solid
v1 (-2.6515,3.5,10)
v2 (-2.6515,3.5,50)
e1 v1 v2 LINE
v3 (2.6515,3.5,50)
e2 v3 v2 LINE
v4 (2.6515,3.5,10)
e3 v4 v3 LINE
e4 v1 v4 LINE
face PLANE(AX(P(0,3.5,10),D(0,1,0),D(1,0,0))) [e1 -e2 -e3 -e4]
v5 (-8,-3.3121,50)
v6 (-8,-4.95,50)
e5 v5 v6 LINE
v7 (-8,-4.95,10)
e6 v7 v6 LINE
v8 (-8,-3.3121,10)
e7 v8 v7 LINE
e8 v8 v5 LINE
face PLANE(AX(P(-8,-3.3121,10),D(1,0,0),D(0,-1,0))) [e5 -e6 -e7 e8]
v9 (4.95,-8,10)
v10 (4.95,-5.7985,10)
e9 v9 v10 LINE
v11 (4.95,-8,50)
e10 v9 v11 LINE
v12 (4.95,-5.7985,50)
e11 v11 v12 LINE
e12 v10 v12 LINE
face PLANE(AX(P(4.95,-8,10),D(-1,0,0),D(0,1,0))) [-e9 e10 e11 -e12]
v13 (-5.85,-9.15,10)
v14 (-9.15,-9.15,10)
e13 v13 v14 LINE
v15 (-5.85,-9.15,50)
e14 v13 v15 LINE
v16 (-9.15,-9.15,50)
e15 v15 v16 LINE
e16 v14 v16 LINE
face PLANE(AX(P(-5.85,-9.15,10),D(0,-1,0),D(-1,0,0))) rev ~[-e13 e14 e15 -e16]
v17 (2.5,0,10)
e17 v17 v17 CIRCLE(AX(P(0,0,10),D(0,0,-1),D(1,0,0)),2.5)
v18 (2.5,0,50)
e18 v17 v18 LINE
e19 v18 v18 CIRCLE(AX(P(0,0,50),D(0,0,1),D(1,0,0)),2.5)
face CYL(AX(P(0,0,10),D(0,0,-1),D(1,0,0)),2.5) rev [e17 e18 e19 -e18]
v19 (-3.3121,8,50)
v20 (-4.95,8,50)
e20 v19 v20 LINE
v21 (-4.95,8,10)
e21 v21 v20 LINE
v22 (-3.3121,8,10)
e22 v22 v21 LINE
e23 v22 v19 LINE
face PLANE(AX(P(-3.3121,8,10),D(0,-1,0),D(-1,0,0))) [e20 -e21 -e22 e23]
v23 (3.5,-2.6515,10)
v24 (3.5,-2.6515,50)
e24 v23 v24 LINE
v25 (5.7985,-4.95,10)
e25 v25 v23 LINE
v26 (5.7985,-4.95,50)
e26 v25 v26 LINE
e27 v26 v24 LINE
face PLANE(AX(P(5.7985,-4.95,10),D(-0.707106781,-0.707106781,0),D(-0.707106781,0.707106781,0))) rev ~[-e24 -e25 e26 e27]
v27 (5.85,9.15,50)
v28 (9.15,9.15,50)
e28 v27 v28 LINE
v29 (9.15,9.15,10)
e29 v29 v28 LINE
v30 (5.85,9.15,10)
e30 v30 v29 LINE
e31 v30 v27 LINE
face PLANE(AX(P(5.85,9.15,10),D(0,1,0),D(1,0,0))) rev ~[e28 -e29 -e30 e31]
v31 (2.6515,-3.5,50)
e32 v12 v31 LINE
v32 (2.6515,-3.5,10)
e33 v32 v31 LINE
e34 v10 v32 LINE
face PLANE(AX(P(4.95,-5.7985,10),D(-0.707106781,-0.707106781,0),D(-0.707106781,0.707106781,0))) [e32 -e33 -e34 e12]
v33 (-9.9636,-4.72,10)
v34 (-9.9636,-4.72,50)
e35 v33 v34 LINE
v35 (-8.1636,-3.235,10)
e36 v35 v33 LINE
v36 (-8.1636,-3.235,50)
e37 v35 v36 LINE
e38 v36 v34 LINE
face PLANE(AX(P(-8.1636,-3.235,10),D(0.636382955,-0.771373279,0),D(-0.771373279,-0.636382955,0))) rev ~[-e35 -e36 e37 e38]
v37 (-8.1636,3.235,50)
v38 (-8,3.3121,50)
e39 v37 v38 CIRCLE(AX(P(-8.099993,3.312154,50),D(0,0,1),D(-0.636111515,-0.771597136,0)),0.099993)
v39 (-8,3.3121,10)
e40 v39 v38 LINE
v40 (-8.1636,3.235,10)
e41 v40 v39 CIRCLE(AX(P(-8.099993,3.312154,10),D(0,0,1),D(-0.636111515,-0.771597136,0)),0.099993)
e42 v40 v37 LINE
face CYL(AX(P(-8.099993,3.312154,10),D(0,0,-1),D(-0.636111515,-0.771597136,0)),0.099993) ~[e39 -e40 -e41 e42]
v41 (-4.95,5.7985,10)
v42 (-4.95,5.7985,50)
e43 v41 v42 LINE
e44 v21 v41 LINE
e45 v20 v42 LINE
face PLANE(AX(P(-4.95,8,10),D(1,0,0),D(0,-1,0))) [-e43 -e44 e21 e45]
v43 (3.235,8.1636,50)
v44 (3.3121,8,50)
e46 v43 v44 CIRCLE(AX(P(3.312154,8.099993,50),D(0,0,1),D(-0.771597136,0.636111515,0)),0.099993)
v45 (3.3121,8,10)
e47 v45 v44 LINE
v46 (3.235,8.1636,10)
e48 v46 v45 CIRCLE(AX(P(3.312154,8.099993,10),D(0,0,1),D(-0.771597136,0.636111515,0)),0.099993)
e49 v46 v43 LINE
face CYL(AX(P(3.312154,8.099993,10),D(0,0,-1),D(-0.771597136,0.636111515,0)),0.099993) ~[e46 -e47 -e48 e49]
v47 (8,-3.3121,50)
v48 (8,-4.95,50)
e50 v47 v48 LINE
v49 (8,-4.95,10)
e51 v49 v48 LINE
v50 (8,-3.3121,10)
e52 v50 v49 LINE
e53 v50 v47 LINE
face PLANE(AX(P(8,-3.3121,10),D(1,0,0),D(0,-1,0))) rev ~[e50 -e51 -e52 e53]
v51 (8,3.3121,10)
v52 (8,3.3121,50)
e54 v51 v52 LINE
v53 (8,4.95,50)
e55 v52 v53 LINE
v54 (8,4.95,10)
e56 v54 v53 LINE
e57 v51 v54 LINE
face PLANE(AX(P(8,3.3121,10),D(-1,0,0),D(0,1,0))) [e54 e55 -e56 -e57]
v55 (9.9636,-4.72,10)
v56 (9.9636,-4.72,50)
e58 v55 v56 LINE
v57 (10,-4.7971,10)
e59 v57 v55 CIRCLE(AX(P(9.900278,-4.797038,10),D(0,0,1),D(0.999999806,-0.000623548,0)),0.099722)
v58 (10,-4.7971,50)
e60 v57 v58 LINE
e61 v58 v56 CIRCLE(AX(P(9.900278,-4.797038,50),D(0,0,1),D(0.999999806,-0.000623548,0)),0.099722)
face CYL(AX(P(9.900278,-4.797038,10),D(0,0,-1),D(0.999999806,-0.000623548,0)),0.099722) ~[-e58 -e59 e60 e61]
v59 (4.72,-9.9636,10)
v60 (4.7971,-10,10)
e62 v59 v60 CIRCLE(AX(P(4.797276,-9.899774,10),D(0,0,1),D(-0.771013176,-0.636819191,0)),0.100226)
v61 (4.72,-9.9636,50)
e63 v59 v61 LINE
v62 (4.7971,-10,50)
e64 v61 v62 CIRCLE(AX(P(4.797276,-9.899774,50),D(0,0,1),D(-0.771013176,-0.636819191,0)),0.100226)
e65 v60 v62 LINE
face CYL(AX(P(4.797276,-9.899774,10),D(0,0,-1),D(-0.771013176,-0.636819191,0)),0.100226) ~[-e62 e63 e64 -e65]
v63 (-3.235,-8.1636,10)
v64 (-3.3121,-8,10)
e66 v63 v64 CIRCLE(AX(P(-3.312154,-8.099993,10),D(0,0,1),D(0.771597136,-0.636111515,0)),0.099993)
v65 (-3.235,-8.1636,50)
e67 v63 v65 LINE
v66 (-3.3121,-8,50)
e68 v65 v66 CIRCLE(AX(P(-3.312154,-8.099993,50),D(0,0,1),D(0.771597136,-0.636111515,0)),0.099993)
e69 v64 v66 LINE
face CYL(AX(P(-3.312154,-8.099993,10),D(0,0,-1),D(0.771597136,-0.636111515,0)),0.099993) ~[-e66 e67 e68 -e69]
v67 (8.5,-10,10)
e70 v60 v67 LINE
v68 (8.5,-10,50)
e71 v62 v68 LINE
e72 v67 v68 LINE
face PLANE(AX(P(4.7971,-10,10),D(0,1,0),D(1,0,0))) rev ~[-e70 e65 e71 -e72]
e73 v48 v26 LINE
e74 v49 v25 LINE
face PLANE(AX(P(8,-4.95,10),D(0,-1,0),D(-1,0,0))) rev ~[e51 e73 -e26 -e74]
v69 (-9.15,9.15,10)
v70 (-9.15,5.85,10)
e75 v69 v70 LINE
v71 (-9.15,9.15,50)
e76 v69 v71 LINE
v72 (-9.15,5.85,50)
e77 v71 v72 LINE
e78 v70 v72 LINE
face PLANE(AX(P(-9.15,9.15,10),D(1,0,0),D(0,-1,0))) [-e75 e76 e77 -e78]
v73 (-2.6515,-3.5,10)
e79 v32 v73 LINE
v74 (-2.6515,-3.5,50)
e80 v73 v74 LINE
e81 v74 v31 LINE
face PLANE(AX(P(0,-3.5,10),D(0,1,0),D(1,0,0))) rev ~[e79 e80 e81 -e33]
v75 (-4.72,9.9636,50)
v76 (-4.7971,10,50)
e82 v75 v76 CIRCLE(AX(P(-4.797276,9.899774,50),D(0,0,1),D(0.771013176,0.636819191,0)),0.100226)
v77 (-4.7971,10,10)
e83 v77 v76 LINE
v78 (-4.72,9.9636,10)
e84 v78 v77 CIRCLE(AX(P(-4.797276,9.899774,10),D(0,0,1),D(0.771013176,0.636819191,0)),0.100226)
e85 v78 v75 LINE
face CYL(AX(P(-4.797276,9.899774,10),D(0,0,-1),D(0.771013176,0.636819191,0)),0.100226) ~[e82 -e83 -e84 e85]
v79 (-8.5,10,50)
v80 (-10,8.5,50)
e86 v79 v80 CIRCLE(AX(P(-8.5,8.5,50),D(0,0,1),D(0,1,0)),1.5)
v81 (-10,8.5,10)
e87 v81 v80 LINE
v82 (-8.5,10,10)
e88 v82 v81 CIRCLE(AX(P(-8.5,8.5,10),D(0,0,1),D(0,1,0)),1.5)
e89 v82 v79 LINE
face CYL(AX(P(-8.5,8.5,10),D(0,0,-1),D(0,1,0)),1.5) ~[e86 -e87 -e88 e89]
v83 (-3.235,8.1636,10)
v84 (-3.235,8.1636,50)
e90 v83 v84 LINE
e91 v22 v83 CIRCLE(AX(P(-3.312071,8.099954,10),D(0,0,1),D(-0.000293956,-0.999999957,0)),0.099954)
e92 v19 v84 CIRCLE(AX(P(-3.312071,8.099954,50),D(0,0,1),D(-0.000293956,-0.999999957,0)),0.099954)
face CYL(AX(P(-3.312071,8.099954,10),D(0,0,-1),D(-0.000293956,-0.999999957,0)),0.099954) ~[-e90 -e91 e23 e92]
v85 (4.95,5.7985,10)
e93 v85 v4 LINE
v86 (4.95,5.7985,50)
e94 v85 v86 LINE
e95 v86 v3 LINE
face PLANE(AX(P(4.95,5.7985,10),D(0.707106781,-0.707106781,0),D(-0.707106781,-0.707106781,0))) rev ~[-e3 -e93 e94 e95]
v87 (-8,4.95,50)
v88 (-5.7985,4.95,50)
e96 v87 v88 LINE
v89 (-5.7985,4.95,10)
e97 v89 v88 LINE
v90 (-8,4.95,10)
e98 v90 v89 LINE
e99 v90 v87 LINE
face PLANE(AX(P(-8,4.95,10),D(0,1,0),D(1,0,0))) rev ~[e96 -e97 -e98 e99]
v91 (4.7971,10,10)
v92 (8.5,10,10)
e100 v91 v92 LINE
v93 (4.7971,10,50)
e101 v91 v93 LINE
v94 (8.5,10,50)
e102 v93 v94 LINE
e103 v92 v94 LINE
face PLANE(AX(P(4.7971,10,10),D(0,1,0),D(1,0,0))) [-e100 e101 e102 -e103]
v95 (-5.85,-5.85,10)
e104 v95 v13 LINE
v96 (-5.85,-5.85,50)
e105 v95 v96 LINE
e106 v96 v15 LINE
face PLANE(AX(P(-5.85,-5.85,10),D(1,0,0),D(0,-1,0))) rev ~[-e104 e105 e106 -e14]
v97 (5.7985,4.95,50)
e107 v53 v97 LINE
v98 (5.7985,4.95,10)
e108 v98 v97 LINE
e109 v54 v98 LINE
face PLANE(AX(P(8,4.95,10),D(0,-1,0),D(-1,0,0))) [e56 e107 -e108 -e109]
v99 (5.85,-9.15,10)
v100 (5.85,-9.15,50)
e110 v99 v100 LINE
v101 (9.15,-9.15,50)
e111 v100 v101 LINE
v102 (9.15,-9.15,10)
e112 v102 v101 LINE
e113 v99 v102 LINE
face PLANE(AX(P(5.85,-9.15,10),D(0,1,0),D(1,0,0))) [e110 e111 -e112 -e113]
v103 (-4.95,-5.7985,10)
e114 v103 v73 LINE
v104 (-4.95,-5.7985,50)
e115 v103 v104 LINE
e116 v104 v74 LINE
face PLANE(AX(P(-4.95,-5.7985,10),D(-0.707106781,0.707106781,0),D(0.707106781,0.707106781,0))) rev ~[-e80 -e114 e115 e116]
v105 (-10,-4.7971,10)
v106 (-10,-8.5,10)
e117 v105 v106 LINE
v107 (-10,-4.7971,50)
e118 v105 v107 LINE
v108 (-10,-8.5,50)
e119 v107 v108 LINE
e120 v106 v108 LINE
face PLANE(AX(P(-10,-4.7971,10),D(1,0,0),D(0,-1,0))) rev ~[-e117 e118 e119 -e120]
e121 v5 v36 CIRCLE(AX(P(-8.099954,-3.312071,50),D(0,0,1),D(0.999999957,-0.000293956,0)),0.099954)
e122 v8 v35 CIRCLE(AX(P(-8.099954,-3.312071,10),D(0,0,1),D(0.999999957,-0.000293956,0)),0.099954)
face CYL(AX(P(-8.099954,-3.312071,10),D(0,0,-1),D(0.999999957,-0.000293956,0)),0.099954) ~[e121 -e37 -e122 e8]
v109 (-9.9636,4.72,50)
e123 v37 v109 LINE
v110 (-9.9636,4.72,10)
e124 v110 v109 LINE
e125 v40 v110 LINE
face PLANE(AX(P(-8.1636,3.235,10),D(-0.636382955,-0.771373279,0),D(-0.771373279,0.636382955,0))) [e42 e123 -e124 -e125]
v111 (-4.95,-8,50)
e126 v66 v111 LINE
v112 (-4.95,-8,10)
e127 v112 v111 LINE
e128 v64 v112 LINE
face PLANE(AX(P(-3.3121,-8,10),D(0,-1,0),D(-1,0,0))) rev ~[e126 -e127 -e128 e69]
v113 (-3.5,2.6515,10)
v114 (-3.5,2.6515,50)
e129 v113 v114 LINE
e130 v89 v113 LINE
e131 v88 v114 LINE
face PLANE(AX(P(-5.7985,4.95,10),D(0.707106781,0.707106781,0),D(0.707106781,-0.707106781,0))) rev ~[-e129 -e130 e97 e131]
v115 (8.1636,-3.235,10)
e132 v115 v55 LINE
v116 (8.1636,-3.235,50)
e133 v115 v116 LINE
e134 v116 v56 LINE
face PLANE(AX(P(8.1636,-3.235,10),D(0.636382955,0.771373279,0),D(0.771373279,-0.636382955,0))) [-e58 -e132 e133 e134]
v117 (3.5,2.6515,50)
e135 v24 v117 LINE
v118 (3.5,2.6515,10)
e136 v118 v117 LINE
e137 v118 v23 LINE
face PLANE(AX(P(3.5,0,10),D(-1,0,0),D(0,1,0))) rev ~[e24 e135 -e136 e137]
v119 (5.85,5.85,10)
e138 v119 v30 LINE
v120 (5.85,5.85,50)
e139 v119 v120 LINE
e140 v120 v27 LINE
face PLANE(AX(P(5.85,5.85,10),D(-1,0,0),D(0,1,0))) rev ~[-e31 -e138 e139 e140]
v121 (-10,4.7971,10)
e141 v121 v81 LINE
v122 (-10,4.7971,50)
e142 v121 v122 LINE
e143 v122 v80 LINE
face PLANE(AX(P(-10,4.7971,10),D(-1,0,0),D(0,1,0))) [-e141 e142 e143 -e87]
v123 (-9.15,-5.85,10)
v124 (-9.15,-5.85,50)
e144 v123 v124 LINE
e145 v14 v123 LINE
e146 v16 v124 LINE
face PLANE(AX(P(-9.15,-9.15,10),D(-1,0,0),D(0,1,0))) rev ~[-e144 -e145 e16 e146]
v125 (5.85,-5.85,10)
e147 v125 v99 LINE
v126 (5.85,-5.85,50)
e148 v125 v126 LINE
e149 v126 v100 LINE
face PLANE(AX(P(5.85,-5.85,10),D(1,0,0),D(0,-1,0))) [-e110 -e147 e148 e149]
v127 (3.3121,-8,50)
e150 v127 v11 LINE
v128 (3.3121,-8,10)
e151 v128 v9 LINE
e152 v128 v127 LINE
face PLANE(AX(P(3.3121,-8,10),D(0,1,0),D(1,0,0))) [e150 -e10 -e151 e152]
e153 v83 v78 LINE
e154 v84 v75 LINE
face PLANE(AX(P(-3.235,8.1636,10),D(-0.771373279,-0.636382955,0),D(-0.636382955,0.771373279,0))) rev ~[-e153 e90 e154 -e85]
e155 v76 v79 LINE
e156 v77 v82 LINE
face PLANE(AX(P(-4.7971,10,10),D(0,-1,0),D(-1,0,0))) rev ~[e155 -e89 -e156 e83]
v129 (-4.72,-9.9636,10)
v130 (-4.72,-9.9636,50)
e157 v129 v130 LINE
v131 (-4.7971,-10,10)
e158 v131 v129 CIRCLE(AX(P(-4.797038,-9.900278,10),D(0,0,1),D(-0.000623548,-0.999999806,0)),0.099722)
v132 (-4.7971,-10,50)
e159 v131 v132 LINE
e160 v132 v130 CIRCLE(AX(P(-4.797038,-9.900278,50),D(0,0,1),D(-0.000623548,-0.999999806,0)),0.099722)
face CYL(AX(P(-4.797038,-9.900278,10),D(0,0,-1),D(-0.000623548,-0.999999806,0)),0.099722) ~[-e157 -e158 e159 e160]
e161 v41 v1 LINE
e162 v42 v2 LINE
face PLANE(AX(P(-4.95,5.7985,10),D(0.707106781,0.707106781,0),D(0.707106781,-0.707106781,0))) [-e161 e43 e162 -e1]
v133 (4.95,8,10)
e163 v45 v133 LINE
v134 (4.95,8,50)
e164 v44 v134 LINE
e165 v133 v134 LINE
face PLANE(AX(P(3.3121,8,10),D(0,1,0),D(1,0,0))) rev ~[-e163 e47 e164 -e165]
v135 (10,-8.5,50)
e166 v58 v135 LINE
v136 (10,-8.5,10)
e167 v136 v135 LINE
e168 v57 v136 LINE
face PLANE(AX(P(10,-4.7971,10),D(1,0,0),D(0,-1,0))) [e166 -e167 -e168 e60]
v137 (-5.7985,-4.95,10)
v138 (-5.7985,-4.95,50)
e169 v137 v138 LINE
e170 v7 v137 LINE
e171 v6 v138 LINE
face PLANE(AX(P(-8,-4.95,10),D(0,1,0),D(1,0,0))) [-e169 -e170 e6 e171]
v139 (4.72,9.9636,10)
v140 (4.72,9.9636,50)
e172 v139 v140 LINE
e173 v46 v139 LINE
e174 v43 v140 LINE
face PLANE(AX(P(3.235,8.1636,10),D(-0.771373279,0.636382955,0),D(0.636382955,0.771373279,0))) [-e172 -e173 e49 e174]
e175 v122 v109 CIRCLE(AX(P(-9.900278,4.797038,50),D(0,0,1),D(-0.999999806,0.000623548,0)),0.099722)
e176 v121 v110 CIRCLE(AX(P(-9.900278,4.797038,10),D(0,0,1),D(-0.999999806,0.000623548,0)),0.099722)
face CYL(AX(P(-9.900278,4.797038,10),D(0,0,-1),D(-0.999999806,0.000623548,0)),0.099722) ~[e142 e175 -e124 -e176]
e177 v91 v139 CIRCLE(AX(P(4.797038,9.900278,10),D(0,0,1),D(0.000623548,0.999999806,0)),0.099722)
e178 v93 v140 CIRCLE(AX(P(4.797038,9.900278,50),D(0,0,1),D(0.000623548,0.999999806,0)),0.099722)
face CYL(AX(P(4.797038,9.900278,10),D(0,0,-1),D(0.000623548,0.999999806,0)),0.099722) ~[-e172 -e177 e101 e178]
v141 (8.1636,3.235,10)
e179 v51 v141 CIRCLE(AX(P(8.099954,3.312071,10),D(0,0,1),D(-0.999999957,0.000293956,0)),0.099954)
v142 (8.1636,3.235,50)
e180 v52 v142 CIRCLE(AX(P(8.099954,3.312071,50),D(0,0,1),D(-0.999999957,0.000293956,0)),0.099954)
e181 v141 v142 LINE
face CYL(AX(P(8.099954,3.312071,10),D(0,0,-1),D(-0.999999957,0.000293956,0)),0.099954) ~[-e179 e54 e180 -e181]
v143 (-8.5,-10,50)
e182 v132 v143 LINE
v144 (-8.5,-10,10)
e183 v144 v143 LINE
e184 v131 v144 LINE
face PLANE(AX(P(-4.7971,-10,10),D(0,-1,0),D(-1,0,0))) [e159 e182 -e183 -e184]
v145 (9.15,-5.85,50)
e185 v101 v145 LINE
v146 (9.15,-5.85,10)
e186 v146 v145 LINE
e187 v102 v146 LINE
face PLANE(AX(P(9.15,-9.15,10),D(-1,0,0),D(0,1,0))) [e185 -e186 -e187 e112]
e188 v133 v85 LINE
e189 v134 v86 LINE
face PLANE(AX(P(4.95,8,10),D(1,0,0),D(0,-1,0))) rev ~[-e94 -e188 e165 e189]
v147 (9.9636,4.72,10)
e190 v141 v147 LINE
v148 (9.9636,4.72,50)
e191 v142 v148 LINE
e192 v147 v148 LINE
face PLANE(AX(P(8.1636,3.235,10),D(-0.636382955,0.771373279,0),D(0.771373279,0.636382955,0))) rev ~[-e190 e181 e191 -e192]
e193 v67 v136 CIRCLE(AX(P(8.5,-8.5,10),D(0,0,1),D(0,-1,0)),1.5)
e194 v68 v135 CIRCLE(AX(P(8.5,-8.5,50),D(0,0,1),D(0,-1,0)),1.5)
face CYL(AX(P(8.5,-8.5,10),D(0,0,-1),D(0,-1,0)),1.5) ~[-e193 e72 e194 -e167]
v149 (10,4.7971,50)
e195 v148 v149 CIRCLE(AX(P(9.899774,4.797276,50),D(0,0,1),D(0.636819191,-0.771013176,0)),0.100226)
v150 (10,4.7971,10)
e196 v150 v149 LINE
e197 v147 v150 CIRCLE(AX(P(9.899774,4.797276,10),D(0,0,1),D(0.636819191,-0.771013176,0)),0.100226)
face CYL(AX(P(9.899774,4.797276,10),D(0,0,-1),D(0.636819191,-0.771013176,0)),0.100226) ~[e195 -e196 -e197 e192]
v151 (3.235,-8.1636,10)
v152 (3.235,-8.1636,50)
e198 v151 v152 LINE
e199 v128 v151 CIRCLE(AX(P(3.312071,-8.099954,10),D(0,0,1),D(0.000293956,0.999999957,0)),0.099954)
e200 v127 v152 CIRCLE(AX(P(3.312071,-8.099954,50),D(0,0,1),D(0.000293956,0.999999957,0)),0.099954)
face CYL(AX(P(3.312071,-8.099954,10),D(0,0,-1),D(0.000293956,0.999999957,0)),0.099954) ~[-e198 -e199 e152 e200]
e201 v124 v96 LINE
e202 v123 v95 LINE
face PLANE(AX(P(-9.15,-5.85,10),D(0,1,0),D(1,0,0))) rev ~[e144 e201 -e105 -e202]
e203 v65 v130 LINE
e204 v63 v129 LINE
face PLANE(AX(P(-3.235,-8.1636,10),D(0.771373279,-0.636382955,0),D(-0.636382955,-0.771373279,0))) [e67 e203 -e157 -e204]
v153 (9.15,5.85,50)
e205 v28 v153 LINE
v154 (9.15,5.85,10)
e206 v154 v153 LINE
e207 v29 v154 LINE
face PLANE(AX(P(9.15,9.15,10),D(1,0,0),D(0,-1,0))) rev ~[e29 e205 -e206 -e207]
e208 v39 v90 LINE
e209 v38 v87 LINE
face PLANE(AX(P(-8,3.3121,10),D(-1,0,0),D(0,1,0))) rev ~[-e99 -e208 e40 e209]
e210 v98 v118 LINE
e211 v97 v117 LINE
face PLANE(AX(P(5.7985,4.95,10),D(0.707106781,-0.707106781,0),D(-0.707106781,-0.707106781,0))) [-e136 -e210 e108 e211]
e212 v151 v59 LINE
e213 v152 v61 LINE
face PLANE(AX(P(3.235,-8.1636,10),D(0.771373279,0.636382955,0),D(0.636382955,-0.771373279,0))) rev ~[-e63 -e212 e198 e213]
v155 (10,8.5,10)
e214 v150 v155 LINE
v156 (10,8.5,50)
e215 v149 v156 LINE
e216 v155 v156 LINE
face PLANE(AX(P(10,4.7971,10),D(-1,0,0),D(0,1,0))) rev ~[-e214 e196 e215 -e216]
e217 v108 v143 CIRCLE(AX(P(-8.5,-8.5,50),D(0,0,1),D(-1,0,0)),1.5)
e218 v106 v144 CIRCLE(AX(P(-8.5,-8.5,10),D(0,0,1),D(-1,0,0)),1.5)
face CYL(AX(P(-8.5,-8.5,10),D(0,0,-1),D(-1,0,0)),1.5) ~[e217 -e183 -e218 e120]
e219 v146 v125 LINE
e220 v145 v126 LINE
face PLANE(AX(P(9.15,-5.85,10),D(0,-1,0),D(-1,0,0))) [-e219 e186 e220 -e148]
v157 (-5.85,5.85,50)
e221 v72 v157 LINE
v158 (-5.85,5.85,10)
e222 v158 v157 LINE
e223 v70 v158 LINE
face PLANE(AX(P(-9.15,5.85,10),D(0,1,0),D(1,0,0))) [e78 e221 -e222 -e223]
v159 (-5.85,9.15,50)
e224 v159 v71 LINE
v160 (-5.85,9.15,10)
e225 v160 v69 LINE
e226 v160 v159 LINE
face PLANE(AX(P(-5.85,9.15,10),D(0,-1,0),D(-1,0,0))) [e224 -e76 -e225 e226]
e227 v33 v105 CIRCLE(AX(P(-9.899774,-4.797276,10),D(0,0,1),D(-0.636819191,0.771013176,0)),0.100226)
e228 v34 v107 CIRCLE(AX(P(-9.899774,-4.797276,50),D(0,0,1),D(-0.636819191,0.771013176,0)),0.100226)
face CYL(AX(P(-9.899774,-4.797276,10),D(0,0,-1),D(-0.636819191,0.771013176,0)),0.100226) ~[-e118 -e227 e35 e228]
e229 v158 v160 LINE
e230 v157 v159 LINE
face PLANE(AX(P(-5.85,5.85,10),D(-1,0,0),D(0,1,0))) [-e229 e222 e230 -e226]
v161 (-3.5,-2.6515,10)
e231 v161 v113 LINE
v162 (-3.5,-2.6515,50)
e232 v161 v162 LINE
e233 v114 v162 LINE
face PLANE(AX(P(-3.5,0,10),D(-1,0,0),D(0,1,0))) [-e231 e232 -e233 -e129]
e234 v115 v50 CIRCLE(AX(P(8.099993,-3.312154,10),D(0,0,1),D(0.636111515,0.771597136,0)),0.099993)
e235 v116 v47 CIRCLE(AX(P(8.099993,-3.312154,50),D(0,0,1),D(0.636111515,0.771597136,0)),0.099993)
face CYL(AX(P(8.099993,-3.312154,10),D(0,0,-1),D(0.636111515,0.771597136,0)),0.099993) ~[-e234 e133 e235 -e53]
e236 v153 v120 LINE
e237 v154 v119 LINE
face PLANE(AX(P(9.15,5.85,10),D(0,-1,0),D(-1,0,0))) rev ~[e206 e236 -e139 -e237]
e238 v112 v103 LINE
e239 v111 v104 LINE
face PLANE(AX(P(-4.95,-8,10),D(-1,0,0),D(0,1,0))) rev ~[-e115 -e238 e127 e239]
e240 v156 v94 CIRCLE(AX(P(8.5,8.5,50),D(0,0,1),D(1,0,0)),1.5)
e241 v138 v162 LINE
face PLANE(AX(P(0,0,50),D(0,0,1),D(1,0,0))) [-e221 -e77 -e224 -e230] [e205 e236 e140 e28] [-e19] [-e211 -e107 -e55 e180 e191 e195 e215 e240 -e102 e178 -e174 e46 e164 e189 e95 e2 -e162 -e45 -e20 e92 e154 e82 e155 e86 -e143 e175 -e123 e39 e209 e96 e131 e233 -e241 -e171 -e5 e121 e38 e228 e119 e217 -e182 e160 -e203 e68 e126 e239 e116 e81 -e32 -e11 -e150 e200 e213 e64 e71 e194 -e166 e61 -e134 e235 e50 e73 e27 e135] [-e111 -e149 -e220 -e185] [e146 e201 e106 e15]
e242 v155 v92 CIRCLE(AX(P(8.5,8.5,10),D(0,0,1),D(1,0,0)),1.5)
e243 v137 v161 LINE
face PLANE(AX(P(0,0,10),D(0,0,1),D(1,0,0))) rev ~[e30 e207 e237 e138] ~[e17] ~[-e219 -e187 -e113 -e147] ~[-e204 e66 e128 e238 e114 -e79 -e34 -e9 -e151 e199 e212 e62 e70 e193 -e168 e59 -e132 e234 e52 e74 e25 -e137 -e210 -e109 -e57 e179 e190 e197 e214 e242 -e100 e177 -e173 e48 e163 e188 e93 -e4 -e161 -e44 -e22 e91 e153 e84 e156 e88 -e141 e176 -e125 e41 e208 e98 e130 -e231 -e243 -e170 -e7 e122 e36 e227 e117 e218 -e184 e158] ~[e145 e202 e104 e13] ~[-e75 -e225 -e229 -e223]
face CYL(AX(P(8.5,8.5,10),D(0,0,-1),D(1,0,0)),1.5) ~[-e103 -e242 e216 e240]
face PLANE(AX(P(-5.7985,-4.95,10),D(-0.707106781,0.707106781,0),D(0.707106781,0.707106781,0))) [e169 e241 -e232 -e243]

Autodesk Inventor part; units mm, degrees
ref_plane "Начальная плоскость" through (0, 0, 10) normal (0, 0, 1) x (1, 0, 0)
ref_plane "Конечная плоскость" through (0, 0, 50) normal (0, 0, 1) x (1, 0, 0)
sketch "Эскиз" plane through (0, 0, 0) normal (0, 0, 1) x (1, 0, 0)
  line L0 (-14.4349, 0) -> (14.4349, 0) projected
  line L1 (0, -14) -> (0, 14) projected
  line L2 (0, 0) -> (7.5, 7.5) construction
  circle A0 centre (7.5, 7.5) radius 1.65 construction
  line L3 (5.85, 9.15) -> (9.15, 9.15)
  line L4 (9.15, 9.15) -> (9.15, 5.85)
  line L5 (9.15, 5.85) -> (5.85, 5.85)
  line L6 (5.85, 5.85) -> (5.85, 9.15)
  line L7 (3.235, 8.1636) -> (4.72, 9.9636)
  line L8 (4.7971, 10) -> (8.5, 10)
  line L9 (3.3121, 8) -> (4.95, 8)
  line L10 (4.95, 8) -> (4.95, 5.7985)
  line L11 (4.95, 5.7985) -> (2.6515, 3.5)
  line L12 (0, 3.5) -> (2.6515, 3.5)
  circle A1 centre (0, 0) radius 2.5
  line L13 (8.1636, 3.235) -> (9.9636, 4.72)
  line L14 (10, 4.7971) -> (10, 8.5)
  line L15 (8, 3.3121) -> (8, 4.95)
  line L16 (8, 4.95) -> (5.7985, 4.95)
  line L17 (5.7985, 4.95) -> (3.5, 2.6515)
  line L18 (3.5, 0) -> (3.5, 2.6515)
  arc A2 (10, 8.5) -> (8.5, 10) centre (8.5, 8.5) ccw
  line L19 (0, 0) -> (-7.5, 7.5) construction
  circle A3 centre (-7.5, 7.5) radius 1.65 construction
  line L20 (-5.85, 9.15) -> (-9.15, 9.15)
  line L21 (-9.15, 9.15) -> (-9.15, 5.85)
  line L22 (-9.15, 5.85) -> (-5.85, 5.85)
  line L23 (-5.85, 5.85) -> (-5.85, 9.15)
  line L24 (-3.235, 8.1636) -> (-4.72, 9.9636)
  line L25 (-4.7971, 10) -> (-8.5, 10)
  line L26 (-3.3121, 8) -> (-4.95, 8)
  line L27 (-4.95, 8) -> (-4.95, 5.7985)
  line L28 (-4.95, 5.7985) -> (-2.6515, 3.5)
  line L29 (0, 3.5) -> (-2.6515, 3.5)
  line L30 (-3.5, 0) -> (-3.5, 2.6515)
  line L31 (-5.7985, 4.95) -> (-3.5, 2.6515)
  line L32 (-8, 4.95) -> (-5.7985, 4.95)
  line L33 (-8, 3.3121) -> (-8, 4.95)
  line L34 (-8.1636, 3.235) -> (-9.9636, 4.72)
  line L35 (-10, 4.7971) -> (-10, 8.5)
  arc A4 (-8.5, 10) -> (-10, 8.5) centre (-8.5, 8.5) ccw
  line L36 (0, 14) -> (0, -14)
  line L37 (0, 0) -> (7.5, -7.5) construction
  circle A5 centre (7.5, -7.5) radius 1.65 construction
  line L38 (5.85, -9.15) -> (9.15, -9.15)
  line L39 (9.15, -9.15) -> (9.15, -5.85)
  line L40 (9.15, -5.85) -> (5.85, -5.85)
  line L41 (5.85, -5.85) -> (5.85, -9.15)
  line L42 (3.235, -8.1636) -> (4.72, -9.9636)
  line L43 (4.7971, -10) -> (8.5, -10)
  line L44 (3.3121, -8) -> (4.95, -8)
  line L45 (4.95, -8) -> (4.95, -5.7985)
  line L46 (4.95, -5.7985) -> (2.6515, -3.5)
  line L47 (0, -3.5) -> (2.6515, -3.5)
  line L48 (3.5, 0) -> (3.5, -2.6515)
  line L49 (5.7985, -4.95) -> (3.5, -2.6515)
  line L50 (8, -4.95) -> (5.7985, -4.95)
  line L51 (8, -3.3121) -> (8, -4.95)
  line L52 (8.1636, -3.235) -> (9.9636, -4.72)
  line L53 (10, -4.7971) -> (10, -8.5)
  arc A6 (8.5, -10) -> (10, -8.5) centre (8.5, -8.5) ccw
  line L54 (0, 0) -> (-7.5, -7.5) construction
  line L55 (-4.95, -8) -> (-4.95, -5.7985)
  line L56 (-3.3121, -8) -> (-4.95, -8)
  line L57 (-5.7985, -4.95) -> (-3.5, -2.6515)
  line L58 (-4.95, -5.7985) -> (-2.6515, -3.5)
  line L59 (-3.5, 0) -> (-3.5, -2.6515)
  line L60 (0, -3.5) -> (-2.6515, -3.5)
  circle A7 centre (-7.5, -7.5) radius 1.65 construction
  line L61 (-5.85, -5.85) -> (-5.85, -9.15)
  line L62 (-5.85, -9.15) -> (-9.15, -9.15)
  line L63 (-9.15, -9.15) -> (-9.15, -5.85)
  line L64 (-9.15, -5.85) -> (-5.85, -5.85)
  line L65 (-3.235, -8.1636) -> (-4.72, -9.9636)
  line L66 (-8, -4.95) -> (-5.7985, -4.95)
  line L67 (-8, -3.3121) -> (-8, -4.95)
  line L68 (-8.1636, -3.235) -> (-9.9636, -4.72)
  line L69 (-4.7971, -10) -> (-8.5, -10)
  line L70 (-10, -4.7971) -> (-10, -8.5)
  arc A8 (-10, -8.5) -> (-8.5, -10) centre (-8.5, -8.5) ccw
  arc A9 (3.235, 8.1636) -> (3.3121, 8) centre (3.3121, 8.1) ccw
  arc A10 (4.7971, 10) -> (4.72, 9.9636) centre (4.7971, 9.9) ccw
  arc A11 (8, 3.3121) -> (8.1636, 3.235) centre (8.1, 3.3121) ccw
  arc A12 (9.9636, 4.72) -> (10, 4.7971) centre (9.9, 4.7971) ccw
  arc A13 (-3.3121, 8) -> (-3.235, 8.1636) centre (-3.3121, 8.1) ccw
  arc A14 (-4.72, 9.9636) -> (-4.7971, 10) centre (-4.7971, 9.9) ccw
  arc A15 (-8.1636, 3.235) -> (-8, 3.3121) centre (-8.1, 3.3121) ccw
  arc A16 (-10, 4.7971) -> (-9.9636, 4.72) centre (-9.9, 4.7971) ccw
  arc A17 (-8, -3.3121) -> (-8.1636, -3.235) centre (-8.1, -3.3121) ccw
  arc A18 (-9.9636, -4.72) -> (-10, -4.7971) centre (-9.9, -4.7971) ccw
  arc A19 (-3.235, -8.1636) -> (-3.3121, -8) centre (-3.3121, -8.1) ccw
  arc A20 (-4.7971, -10) -> (-4.72, -9.9636) centre (-4.7971, -9.9) ccw
  arc A21 (4.72, -9.9636) -> (4.7971, -10) centre (4.7971, -9.9) ccw
  arc A22 (3.3121, -8) -> (3.235, -8.1636) centre (3.3121, -8.1) ccw
  arc A23 (8.1636, -3.235) -> (8, -3.3121) centre (8.1, -3.3121) ccw
  arc A24 (10, -4.7971) -> (9.9636, -4.72) centre (9.9, -4.7971) ccw
  point P0 (3.1, 8)
  point P1 (4.75, 10)
  point P2 (7.5, 9.15)
  point P3 (8, 3.1)
  point P4 (10, 4.75)
  point P5 (7.5, 5.85)
  point P6 (9.15, 7.5)
  point P7 (-3.1, 8)
  point P8 (-4.75, 10)
  point P9 (-7.5, 9.15)
  point P10 (-8, 3.1)
  point P11 (-10, 4.75)
  point P12 (-7.5, 5.85)
  point P13 (-9.15, 7.5)
  point P14 (3.1, -8)
  point P15 (4.75, -10)
  point P16 (7.5, -9.15)
  point P17 (8, -3.1)
  point P18 (10, -4.75)
  point P19 (7.5, -5.85)
  point P20 (9.15, -7.5)
  point P21 (-3.1, -8)
  point P22 (-7.5, -5.85)
  point P23 (-7.5, -9.15)
  point P24 (-9.15, -7.5)
  point P25 (-4.75, -10)
  point P26 (-8, -3.1)
  point P27 (-10, -4.75)
  dimension "d0" = 45
  dimension "d1" = 3.3
  dimension "d2" = 1.5
  dimension "d3" = 1.2
  dimension "d4" = 5
  dimension "d5" = 6.5
  dimension "d6" = 15
  dimension "d7" = 20
  dimension "d8" = 9.9
  dimension "d9" = 9.5
  dimension "d10" = 6.2
  dimension "d11" = 2
  dimension "d18" = 0.1
  dimension "d19" = 0.1
extrude "Тело" add sketch "Эскиз" along normal up to surface (40 mm away) from surface at 10 contours A1 L1 L12 L11 L10 L9 A9 L7 A10 L8 A2 L14 A12 L13 A11 L15 L16 L17 L18 L0 | L0 L48 L49 L50 L51 A23 L52 A24 L53 A6 L43 A21 L42 A22 L44 L45 L46 L47 L1 A1 | A1 L0 L30 L31 L32 L33 A15 L34 A16 L35 A4 L25 A14 L24 A13 L26 L27 L28 L29 L1 | L1 L60 L58 L55 L56 A19 L65 A20 L69 A8 L70 A18 L68 A17 L67 L66 L57 L59 L0 A1
sketch "Эскиз2" plane through (0, 0, 0) normal (0, 0, 1) x (1, 0, 0)
  line L0 (0, 0) -> (10, 0)
ref_plane "РабПлоскость3" through (0, 0, 0) normal (0, -1, 0) x (1, 0, 0)
sketch "Эскиз3" plane through (0, 0, 0) normal (0, -1, 0) x (1, 0, 0)
  line L0 (-2, 10) -> (12, 10)
  line L1 (-2, 50) -> (12, 50)
  dimension "d25" = 40
ref_plane "РабПлоскость4" through (-8.5, 255, 50) normal (0, 0, 1) x (1, 0, 0)
split "Разделение1" plane through (-8.5, 255, 50) removes the side toward (0, 0, 1)
ref_plane "РабПлоскость5" through (4.7971, -255, 10) normal (0, 0, -1) x (-1, 0, 0)
split "Разделение2" plane through (4.7971, -255, 10) removes the side toward (0, 0, -1)
properties part number "короткая палка"
